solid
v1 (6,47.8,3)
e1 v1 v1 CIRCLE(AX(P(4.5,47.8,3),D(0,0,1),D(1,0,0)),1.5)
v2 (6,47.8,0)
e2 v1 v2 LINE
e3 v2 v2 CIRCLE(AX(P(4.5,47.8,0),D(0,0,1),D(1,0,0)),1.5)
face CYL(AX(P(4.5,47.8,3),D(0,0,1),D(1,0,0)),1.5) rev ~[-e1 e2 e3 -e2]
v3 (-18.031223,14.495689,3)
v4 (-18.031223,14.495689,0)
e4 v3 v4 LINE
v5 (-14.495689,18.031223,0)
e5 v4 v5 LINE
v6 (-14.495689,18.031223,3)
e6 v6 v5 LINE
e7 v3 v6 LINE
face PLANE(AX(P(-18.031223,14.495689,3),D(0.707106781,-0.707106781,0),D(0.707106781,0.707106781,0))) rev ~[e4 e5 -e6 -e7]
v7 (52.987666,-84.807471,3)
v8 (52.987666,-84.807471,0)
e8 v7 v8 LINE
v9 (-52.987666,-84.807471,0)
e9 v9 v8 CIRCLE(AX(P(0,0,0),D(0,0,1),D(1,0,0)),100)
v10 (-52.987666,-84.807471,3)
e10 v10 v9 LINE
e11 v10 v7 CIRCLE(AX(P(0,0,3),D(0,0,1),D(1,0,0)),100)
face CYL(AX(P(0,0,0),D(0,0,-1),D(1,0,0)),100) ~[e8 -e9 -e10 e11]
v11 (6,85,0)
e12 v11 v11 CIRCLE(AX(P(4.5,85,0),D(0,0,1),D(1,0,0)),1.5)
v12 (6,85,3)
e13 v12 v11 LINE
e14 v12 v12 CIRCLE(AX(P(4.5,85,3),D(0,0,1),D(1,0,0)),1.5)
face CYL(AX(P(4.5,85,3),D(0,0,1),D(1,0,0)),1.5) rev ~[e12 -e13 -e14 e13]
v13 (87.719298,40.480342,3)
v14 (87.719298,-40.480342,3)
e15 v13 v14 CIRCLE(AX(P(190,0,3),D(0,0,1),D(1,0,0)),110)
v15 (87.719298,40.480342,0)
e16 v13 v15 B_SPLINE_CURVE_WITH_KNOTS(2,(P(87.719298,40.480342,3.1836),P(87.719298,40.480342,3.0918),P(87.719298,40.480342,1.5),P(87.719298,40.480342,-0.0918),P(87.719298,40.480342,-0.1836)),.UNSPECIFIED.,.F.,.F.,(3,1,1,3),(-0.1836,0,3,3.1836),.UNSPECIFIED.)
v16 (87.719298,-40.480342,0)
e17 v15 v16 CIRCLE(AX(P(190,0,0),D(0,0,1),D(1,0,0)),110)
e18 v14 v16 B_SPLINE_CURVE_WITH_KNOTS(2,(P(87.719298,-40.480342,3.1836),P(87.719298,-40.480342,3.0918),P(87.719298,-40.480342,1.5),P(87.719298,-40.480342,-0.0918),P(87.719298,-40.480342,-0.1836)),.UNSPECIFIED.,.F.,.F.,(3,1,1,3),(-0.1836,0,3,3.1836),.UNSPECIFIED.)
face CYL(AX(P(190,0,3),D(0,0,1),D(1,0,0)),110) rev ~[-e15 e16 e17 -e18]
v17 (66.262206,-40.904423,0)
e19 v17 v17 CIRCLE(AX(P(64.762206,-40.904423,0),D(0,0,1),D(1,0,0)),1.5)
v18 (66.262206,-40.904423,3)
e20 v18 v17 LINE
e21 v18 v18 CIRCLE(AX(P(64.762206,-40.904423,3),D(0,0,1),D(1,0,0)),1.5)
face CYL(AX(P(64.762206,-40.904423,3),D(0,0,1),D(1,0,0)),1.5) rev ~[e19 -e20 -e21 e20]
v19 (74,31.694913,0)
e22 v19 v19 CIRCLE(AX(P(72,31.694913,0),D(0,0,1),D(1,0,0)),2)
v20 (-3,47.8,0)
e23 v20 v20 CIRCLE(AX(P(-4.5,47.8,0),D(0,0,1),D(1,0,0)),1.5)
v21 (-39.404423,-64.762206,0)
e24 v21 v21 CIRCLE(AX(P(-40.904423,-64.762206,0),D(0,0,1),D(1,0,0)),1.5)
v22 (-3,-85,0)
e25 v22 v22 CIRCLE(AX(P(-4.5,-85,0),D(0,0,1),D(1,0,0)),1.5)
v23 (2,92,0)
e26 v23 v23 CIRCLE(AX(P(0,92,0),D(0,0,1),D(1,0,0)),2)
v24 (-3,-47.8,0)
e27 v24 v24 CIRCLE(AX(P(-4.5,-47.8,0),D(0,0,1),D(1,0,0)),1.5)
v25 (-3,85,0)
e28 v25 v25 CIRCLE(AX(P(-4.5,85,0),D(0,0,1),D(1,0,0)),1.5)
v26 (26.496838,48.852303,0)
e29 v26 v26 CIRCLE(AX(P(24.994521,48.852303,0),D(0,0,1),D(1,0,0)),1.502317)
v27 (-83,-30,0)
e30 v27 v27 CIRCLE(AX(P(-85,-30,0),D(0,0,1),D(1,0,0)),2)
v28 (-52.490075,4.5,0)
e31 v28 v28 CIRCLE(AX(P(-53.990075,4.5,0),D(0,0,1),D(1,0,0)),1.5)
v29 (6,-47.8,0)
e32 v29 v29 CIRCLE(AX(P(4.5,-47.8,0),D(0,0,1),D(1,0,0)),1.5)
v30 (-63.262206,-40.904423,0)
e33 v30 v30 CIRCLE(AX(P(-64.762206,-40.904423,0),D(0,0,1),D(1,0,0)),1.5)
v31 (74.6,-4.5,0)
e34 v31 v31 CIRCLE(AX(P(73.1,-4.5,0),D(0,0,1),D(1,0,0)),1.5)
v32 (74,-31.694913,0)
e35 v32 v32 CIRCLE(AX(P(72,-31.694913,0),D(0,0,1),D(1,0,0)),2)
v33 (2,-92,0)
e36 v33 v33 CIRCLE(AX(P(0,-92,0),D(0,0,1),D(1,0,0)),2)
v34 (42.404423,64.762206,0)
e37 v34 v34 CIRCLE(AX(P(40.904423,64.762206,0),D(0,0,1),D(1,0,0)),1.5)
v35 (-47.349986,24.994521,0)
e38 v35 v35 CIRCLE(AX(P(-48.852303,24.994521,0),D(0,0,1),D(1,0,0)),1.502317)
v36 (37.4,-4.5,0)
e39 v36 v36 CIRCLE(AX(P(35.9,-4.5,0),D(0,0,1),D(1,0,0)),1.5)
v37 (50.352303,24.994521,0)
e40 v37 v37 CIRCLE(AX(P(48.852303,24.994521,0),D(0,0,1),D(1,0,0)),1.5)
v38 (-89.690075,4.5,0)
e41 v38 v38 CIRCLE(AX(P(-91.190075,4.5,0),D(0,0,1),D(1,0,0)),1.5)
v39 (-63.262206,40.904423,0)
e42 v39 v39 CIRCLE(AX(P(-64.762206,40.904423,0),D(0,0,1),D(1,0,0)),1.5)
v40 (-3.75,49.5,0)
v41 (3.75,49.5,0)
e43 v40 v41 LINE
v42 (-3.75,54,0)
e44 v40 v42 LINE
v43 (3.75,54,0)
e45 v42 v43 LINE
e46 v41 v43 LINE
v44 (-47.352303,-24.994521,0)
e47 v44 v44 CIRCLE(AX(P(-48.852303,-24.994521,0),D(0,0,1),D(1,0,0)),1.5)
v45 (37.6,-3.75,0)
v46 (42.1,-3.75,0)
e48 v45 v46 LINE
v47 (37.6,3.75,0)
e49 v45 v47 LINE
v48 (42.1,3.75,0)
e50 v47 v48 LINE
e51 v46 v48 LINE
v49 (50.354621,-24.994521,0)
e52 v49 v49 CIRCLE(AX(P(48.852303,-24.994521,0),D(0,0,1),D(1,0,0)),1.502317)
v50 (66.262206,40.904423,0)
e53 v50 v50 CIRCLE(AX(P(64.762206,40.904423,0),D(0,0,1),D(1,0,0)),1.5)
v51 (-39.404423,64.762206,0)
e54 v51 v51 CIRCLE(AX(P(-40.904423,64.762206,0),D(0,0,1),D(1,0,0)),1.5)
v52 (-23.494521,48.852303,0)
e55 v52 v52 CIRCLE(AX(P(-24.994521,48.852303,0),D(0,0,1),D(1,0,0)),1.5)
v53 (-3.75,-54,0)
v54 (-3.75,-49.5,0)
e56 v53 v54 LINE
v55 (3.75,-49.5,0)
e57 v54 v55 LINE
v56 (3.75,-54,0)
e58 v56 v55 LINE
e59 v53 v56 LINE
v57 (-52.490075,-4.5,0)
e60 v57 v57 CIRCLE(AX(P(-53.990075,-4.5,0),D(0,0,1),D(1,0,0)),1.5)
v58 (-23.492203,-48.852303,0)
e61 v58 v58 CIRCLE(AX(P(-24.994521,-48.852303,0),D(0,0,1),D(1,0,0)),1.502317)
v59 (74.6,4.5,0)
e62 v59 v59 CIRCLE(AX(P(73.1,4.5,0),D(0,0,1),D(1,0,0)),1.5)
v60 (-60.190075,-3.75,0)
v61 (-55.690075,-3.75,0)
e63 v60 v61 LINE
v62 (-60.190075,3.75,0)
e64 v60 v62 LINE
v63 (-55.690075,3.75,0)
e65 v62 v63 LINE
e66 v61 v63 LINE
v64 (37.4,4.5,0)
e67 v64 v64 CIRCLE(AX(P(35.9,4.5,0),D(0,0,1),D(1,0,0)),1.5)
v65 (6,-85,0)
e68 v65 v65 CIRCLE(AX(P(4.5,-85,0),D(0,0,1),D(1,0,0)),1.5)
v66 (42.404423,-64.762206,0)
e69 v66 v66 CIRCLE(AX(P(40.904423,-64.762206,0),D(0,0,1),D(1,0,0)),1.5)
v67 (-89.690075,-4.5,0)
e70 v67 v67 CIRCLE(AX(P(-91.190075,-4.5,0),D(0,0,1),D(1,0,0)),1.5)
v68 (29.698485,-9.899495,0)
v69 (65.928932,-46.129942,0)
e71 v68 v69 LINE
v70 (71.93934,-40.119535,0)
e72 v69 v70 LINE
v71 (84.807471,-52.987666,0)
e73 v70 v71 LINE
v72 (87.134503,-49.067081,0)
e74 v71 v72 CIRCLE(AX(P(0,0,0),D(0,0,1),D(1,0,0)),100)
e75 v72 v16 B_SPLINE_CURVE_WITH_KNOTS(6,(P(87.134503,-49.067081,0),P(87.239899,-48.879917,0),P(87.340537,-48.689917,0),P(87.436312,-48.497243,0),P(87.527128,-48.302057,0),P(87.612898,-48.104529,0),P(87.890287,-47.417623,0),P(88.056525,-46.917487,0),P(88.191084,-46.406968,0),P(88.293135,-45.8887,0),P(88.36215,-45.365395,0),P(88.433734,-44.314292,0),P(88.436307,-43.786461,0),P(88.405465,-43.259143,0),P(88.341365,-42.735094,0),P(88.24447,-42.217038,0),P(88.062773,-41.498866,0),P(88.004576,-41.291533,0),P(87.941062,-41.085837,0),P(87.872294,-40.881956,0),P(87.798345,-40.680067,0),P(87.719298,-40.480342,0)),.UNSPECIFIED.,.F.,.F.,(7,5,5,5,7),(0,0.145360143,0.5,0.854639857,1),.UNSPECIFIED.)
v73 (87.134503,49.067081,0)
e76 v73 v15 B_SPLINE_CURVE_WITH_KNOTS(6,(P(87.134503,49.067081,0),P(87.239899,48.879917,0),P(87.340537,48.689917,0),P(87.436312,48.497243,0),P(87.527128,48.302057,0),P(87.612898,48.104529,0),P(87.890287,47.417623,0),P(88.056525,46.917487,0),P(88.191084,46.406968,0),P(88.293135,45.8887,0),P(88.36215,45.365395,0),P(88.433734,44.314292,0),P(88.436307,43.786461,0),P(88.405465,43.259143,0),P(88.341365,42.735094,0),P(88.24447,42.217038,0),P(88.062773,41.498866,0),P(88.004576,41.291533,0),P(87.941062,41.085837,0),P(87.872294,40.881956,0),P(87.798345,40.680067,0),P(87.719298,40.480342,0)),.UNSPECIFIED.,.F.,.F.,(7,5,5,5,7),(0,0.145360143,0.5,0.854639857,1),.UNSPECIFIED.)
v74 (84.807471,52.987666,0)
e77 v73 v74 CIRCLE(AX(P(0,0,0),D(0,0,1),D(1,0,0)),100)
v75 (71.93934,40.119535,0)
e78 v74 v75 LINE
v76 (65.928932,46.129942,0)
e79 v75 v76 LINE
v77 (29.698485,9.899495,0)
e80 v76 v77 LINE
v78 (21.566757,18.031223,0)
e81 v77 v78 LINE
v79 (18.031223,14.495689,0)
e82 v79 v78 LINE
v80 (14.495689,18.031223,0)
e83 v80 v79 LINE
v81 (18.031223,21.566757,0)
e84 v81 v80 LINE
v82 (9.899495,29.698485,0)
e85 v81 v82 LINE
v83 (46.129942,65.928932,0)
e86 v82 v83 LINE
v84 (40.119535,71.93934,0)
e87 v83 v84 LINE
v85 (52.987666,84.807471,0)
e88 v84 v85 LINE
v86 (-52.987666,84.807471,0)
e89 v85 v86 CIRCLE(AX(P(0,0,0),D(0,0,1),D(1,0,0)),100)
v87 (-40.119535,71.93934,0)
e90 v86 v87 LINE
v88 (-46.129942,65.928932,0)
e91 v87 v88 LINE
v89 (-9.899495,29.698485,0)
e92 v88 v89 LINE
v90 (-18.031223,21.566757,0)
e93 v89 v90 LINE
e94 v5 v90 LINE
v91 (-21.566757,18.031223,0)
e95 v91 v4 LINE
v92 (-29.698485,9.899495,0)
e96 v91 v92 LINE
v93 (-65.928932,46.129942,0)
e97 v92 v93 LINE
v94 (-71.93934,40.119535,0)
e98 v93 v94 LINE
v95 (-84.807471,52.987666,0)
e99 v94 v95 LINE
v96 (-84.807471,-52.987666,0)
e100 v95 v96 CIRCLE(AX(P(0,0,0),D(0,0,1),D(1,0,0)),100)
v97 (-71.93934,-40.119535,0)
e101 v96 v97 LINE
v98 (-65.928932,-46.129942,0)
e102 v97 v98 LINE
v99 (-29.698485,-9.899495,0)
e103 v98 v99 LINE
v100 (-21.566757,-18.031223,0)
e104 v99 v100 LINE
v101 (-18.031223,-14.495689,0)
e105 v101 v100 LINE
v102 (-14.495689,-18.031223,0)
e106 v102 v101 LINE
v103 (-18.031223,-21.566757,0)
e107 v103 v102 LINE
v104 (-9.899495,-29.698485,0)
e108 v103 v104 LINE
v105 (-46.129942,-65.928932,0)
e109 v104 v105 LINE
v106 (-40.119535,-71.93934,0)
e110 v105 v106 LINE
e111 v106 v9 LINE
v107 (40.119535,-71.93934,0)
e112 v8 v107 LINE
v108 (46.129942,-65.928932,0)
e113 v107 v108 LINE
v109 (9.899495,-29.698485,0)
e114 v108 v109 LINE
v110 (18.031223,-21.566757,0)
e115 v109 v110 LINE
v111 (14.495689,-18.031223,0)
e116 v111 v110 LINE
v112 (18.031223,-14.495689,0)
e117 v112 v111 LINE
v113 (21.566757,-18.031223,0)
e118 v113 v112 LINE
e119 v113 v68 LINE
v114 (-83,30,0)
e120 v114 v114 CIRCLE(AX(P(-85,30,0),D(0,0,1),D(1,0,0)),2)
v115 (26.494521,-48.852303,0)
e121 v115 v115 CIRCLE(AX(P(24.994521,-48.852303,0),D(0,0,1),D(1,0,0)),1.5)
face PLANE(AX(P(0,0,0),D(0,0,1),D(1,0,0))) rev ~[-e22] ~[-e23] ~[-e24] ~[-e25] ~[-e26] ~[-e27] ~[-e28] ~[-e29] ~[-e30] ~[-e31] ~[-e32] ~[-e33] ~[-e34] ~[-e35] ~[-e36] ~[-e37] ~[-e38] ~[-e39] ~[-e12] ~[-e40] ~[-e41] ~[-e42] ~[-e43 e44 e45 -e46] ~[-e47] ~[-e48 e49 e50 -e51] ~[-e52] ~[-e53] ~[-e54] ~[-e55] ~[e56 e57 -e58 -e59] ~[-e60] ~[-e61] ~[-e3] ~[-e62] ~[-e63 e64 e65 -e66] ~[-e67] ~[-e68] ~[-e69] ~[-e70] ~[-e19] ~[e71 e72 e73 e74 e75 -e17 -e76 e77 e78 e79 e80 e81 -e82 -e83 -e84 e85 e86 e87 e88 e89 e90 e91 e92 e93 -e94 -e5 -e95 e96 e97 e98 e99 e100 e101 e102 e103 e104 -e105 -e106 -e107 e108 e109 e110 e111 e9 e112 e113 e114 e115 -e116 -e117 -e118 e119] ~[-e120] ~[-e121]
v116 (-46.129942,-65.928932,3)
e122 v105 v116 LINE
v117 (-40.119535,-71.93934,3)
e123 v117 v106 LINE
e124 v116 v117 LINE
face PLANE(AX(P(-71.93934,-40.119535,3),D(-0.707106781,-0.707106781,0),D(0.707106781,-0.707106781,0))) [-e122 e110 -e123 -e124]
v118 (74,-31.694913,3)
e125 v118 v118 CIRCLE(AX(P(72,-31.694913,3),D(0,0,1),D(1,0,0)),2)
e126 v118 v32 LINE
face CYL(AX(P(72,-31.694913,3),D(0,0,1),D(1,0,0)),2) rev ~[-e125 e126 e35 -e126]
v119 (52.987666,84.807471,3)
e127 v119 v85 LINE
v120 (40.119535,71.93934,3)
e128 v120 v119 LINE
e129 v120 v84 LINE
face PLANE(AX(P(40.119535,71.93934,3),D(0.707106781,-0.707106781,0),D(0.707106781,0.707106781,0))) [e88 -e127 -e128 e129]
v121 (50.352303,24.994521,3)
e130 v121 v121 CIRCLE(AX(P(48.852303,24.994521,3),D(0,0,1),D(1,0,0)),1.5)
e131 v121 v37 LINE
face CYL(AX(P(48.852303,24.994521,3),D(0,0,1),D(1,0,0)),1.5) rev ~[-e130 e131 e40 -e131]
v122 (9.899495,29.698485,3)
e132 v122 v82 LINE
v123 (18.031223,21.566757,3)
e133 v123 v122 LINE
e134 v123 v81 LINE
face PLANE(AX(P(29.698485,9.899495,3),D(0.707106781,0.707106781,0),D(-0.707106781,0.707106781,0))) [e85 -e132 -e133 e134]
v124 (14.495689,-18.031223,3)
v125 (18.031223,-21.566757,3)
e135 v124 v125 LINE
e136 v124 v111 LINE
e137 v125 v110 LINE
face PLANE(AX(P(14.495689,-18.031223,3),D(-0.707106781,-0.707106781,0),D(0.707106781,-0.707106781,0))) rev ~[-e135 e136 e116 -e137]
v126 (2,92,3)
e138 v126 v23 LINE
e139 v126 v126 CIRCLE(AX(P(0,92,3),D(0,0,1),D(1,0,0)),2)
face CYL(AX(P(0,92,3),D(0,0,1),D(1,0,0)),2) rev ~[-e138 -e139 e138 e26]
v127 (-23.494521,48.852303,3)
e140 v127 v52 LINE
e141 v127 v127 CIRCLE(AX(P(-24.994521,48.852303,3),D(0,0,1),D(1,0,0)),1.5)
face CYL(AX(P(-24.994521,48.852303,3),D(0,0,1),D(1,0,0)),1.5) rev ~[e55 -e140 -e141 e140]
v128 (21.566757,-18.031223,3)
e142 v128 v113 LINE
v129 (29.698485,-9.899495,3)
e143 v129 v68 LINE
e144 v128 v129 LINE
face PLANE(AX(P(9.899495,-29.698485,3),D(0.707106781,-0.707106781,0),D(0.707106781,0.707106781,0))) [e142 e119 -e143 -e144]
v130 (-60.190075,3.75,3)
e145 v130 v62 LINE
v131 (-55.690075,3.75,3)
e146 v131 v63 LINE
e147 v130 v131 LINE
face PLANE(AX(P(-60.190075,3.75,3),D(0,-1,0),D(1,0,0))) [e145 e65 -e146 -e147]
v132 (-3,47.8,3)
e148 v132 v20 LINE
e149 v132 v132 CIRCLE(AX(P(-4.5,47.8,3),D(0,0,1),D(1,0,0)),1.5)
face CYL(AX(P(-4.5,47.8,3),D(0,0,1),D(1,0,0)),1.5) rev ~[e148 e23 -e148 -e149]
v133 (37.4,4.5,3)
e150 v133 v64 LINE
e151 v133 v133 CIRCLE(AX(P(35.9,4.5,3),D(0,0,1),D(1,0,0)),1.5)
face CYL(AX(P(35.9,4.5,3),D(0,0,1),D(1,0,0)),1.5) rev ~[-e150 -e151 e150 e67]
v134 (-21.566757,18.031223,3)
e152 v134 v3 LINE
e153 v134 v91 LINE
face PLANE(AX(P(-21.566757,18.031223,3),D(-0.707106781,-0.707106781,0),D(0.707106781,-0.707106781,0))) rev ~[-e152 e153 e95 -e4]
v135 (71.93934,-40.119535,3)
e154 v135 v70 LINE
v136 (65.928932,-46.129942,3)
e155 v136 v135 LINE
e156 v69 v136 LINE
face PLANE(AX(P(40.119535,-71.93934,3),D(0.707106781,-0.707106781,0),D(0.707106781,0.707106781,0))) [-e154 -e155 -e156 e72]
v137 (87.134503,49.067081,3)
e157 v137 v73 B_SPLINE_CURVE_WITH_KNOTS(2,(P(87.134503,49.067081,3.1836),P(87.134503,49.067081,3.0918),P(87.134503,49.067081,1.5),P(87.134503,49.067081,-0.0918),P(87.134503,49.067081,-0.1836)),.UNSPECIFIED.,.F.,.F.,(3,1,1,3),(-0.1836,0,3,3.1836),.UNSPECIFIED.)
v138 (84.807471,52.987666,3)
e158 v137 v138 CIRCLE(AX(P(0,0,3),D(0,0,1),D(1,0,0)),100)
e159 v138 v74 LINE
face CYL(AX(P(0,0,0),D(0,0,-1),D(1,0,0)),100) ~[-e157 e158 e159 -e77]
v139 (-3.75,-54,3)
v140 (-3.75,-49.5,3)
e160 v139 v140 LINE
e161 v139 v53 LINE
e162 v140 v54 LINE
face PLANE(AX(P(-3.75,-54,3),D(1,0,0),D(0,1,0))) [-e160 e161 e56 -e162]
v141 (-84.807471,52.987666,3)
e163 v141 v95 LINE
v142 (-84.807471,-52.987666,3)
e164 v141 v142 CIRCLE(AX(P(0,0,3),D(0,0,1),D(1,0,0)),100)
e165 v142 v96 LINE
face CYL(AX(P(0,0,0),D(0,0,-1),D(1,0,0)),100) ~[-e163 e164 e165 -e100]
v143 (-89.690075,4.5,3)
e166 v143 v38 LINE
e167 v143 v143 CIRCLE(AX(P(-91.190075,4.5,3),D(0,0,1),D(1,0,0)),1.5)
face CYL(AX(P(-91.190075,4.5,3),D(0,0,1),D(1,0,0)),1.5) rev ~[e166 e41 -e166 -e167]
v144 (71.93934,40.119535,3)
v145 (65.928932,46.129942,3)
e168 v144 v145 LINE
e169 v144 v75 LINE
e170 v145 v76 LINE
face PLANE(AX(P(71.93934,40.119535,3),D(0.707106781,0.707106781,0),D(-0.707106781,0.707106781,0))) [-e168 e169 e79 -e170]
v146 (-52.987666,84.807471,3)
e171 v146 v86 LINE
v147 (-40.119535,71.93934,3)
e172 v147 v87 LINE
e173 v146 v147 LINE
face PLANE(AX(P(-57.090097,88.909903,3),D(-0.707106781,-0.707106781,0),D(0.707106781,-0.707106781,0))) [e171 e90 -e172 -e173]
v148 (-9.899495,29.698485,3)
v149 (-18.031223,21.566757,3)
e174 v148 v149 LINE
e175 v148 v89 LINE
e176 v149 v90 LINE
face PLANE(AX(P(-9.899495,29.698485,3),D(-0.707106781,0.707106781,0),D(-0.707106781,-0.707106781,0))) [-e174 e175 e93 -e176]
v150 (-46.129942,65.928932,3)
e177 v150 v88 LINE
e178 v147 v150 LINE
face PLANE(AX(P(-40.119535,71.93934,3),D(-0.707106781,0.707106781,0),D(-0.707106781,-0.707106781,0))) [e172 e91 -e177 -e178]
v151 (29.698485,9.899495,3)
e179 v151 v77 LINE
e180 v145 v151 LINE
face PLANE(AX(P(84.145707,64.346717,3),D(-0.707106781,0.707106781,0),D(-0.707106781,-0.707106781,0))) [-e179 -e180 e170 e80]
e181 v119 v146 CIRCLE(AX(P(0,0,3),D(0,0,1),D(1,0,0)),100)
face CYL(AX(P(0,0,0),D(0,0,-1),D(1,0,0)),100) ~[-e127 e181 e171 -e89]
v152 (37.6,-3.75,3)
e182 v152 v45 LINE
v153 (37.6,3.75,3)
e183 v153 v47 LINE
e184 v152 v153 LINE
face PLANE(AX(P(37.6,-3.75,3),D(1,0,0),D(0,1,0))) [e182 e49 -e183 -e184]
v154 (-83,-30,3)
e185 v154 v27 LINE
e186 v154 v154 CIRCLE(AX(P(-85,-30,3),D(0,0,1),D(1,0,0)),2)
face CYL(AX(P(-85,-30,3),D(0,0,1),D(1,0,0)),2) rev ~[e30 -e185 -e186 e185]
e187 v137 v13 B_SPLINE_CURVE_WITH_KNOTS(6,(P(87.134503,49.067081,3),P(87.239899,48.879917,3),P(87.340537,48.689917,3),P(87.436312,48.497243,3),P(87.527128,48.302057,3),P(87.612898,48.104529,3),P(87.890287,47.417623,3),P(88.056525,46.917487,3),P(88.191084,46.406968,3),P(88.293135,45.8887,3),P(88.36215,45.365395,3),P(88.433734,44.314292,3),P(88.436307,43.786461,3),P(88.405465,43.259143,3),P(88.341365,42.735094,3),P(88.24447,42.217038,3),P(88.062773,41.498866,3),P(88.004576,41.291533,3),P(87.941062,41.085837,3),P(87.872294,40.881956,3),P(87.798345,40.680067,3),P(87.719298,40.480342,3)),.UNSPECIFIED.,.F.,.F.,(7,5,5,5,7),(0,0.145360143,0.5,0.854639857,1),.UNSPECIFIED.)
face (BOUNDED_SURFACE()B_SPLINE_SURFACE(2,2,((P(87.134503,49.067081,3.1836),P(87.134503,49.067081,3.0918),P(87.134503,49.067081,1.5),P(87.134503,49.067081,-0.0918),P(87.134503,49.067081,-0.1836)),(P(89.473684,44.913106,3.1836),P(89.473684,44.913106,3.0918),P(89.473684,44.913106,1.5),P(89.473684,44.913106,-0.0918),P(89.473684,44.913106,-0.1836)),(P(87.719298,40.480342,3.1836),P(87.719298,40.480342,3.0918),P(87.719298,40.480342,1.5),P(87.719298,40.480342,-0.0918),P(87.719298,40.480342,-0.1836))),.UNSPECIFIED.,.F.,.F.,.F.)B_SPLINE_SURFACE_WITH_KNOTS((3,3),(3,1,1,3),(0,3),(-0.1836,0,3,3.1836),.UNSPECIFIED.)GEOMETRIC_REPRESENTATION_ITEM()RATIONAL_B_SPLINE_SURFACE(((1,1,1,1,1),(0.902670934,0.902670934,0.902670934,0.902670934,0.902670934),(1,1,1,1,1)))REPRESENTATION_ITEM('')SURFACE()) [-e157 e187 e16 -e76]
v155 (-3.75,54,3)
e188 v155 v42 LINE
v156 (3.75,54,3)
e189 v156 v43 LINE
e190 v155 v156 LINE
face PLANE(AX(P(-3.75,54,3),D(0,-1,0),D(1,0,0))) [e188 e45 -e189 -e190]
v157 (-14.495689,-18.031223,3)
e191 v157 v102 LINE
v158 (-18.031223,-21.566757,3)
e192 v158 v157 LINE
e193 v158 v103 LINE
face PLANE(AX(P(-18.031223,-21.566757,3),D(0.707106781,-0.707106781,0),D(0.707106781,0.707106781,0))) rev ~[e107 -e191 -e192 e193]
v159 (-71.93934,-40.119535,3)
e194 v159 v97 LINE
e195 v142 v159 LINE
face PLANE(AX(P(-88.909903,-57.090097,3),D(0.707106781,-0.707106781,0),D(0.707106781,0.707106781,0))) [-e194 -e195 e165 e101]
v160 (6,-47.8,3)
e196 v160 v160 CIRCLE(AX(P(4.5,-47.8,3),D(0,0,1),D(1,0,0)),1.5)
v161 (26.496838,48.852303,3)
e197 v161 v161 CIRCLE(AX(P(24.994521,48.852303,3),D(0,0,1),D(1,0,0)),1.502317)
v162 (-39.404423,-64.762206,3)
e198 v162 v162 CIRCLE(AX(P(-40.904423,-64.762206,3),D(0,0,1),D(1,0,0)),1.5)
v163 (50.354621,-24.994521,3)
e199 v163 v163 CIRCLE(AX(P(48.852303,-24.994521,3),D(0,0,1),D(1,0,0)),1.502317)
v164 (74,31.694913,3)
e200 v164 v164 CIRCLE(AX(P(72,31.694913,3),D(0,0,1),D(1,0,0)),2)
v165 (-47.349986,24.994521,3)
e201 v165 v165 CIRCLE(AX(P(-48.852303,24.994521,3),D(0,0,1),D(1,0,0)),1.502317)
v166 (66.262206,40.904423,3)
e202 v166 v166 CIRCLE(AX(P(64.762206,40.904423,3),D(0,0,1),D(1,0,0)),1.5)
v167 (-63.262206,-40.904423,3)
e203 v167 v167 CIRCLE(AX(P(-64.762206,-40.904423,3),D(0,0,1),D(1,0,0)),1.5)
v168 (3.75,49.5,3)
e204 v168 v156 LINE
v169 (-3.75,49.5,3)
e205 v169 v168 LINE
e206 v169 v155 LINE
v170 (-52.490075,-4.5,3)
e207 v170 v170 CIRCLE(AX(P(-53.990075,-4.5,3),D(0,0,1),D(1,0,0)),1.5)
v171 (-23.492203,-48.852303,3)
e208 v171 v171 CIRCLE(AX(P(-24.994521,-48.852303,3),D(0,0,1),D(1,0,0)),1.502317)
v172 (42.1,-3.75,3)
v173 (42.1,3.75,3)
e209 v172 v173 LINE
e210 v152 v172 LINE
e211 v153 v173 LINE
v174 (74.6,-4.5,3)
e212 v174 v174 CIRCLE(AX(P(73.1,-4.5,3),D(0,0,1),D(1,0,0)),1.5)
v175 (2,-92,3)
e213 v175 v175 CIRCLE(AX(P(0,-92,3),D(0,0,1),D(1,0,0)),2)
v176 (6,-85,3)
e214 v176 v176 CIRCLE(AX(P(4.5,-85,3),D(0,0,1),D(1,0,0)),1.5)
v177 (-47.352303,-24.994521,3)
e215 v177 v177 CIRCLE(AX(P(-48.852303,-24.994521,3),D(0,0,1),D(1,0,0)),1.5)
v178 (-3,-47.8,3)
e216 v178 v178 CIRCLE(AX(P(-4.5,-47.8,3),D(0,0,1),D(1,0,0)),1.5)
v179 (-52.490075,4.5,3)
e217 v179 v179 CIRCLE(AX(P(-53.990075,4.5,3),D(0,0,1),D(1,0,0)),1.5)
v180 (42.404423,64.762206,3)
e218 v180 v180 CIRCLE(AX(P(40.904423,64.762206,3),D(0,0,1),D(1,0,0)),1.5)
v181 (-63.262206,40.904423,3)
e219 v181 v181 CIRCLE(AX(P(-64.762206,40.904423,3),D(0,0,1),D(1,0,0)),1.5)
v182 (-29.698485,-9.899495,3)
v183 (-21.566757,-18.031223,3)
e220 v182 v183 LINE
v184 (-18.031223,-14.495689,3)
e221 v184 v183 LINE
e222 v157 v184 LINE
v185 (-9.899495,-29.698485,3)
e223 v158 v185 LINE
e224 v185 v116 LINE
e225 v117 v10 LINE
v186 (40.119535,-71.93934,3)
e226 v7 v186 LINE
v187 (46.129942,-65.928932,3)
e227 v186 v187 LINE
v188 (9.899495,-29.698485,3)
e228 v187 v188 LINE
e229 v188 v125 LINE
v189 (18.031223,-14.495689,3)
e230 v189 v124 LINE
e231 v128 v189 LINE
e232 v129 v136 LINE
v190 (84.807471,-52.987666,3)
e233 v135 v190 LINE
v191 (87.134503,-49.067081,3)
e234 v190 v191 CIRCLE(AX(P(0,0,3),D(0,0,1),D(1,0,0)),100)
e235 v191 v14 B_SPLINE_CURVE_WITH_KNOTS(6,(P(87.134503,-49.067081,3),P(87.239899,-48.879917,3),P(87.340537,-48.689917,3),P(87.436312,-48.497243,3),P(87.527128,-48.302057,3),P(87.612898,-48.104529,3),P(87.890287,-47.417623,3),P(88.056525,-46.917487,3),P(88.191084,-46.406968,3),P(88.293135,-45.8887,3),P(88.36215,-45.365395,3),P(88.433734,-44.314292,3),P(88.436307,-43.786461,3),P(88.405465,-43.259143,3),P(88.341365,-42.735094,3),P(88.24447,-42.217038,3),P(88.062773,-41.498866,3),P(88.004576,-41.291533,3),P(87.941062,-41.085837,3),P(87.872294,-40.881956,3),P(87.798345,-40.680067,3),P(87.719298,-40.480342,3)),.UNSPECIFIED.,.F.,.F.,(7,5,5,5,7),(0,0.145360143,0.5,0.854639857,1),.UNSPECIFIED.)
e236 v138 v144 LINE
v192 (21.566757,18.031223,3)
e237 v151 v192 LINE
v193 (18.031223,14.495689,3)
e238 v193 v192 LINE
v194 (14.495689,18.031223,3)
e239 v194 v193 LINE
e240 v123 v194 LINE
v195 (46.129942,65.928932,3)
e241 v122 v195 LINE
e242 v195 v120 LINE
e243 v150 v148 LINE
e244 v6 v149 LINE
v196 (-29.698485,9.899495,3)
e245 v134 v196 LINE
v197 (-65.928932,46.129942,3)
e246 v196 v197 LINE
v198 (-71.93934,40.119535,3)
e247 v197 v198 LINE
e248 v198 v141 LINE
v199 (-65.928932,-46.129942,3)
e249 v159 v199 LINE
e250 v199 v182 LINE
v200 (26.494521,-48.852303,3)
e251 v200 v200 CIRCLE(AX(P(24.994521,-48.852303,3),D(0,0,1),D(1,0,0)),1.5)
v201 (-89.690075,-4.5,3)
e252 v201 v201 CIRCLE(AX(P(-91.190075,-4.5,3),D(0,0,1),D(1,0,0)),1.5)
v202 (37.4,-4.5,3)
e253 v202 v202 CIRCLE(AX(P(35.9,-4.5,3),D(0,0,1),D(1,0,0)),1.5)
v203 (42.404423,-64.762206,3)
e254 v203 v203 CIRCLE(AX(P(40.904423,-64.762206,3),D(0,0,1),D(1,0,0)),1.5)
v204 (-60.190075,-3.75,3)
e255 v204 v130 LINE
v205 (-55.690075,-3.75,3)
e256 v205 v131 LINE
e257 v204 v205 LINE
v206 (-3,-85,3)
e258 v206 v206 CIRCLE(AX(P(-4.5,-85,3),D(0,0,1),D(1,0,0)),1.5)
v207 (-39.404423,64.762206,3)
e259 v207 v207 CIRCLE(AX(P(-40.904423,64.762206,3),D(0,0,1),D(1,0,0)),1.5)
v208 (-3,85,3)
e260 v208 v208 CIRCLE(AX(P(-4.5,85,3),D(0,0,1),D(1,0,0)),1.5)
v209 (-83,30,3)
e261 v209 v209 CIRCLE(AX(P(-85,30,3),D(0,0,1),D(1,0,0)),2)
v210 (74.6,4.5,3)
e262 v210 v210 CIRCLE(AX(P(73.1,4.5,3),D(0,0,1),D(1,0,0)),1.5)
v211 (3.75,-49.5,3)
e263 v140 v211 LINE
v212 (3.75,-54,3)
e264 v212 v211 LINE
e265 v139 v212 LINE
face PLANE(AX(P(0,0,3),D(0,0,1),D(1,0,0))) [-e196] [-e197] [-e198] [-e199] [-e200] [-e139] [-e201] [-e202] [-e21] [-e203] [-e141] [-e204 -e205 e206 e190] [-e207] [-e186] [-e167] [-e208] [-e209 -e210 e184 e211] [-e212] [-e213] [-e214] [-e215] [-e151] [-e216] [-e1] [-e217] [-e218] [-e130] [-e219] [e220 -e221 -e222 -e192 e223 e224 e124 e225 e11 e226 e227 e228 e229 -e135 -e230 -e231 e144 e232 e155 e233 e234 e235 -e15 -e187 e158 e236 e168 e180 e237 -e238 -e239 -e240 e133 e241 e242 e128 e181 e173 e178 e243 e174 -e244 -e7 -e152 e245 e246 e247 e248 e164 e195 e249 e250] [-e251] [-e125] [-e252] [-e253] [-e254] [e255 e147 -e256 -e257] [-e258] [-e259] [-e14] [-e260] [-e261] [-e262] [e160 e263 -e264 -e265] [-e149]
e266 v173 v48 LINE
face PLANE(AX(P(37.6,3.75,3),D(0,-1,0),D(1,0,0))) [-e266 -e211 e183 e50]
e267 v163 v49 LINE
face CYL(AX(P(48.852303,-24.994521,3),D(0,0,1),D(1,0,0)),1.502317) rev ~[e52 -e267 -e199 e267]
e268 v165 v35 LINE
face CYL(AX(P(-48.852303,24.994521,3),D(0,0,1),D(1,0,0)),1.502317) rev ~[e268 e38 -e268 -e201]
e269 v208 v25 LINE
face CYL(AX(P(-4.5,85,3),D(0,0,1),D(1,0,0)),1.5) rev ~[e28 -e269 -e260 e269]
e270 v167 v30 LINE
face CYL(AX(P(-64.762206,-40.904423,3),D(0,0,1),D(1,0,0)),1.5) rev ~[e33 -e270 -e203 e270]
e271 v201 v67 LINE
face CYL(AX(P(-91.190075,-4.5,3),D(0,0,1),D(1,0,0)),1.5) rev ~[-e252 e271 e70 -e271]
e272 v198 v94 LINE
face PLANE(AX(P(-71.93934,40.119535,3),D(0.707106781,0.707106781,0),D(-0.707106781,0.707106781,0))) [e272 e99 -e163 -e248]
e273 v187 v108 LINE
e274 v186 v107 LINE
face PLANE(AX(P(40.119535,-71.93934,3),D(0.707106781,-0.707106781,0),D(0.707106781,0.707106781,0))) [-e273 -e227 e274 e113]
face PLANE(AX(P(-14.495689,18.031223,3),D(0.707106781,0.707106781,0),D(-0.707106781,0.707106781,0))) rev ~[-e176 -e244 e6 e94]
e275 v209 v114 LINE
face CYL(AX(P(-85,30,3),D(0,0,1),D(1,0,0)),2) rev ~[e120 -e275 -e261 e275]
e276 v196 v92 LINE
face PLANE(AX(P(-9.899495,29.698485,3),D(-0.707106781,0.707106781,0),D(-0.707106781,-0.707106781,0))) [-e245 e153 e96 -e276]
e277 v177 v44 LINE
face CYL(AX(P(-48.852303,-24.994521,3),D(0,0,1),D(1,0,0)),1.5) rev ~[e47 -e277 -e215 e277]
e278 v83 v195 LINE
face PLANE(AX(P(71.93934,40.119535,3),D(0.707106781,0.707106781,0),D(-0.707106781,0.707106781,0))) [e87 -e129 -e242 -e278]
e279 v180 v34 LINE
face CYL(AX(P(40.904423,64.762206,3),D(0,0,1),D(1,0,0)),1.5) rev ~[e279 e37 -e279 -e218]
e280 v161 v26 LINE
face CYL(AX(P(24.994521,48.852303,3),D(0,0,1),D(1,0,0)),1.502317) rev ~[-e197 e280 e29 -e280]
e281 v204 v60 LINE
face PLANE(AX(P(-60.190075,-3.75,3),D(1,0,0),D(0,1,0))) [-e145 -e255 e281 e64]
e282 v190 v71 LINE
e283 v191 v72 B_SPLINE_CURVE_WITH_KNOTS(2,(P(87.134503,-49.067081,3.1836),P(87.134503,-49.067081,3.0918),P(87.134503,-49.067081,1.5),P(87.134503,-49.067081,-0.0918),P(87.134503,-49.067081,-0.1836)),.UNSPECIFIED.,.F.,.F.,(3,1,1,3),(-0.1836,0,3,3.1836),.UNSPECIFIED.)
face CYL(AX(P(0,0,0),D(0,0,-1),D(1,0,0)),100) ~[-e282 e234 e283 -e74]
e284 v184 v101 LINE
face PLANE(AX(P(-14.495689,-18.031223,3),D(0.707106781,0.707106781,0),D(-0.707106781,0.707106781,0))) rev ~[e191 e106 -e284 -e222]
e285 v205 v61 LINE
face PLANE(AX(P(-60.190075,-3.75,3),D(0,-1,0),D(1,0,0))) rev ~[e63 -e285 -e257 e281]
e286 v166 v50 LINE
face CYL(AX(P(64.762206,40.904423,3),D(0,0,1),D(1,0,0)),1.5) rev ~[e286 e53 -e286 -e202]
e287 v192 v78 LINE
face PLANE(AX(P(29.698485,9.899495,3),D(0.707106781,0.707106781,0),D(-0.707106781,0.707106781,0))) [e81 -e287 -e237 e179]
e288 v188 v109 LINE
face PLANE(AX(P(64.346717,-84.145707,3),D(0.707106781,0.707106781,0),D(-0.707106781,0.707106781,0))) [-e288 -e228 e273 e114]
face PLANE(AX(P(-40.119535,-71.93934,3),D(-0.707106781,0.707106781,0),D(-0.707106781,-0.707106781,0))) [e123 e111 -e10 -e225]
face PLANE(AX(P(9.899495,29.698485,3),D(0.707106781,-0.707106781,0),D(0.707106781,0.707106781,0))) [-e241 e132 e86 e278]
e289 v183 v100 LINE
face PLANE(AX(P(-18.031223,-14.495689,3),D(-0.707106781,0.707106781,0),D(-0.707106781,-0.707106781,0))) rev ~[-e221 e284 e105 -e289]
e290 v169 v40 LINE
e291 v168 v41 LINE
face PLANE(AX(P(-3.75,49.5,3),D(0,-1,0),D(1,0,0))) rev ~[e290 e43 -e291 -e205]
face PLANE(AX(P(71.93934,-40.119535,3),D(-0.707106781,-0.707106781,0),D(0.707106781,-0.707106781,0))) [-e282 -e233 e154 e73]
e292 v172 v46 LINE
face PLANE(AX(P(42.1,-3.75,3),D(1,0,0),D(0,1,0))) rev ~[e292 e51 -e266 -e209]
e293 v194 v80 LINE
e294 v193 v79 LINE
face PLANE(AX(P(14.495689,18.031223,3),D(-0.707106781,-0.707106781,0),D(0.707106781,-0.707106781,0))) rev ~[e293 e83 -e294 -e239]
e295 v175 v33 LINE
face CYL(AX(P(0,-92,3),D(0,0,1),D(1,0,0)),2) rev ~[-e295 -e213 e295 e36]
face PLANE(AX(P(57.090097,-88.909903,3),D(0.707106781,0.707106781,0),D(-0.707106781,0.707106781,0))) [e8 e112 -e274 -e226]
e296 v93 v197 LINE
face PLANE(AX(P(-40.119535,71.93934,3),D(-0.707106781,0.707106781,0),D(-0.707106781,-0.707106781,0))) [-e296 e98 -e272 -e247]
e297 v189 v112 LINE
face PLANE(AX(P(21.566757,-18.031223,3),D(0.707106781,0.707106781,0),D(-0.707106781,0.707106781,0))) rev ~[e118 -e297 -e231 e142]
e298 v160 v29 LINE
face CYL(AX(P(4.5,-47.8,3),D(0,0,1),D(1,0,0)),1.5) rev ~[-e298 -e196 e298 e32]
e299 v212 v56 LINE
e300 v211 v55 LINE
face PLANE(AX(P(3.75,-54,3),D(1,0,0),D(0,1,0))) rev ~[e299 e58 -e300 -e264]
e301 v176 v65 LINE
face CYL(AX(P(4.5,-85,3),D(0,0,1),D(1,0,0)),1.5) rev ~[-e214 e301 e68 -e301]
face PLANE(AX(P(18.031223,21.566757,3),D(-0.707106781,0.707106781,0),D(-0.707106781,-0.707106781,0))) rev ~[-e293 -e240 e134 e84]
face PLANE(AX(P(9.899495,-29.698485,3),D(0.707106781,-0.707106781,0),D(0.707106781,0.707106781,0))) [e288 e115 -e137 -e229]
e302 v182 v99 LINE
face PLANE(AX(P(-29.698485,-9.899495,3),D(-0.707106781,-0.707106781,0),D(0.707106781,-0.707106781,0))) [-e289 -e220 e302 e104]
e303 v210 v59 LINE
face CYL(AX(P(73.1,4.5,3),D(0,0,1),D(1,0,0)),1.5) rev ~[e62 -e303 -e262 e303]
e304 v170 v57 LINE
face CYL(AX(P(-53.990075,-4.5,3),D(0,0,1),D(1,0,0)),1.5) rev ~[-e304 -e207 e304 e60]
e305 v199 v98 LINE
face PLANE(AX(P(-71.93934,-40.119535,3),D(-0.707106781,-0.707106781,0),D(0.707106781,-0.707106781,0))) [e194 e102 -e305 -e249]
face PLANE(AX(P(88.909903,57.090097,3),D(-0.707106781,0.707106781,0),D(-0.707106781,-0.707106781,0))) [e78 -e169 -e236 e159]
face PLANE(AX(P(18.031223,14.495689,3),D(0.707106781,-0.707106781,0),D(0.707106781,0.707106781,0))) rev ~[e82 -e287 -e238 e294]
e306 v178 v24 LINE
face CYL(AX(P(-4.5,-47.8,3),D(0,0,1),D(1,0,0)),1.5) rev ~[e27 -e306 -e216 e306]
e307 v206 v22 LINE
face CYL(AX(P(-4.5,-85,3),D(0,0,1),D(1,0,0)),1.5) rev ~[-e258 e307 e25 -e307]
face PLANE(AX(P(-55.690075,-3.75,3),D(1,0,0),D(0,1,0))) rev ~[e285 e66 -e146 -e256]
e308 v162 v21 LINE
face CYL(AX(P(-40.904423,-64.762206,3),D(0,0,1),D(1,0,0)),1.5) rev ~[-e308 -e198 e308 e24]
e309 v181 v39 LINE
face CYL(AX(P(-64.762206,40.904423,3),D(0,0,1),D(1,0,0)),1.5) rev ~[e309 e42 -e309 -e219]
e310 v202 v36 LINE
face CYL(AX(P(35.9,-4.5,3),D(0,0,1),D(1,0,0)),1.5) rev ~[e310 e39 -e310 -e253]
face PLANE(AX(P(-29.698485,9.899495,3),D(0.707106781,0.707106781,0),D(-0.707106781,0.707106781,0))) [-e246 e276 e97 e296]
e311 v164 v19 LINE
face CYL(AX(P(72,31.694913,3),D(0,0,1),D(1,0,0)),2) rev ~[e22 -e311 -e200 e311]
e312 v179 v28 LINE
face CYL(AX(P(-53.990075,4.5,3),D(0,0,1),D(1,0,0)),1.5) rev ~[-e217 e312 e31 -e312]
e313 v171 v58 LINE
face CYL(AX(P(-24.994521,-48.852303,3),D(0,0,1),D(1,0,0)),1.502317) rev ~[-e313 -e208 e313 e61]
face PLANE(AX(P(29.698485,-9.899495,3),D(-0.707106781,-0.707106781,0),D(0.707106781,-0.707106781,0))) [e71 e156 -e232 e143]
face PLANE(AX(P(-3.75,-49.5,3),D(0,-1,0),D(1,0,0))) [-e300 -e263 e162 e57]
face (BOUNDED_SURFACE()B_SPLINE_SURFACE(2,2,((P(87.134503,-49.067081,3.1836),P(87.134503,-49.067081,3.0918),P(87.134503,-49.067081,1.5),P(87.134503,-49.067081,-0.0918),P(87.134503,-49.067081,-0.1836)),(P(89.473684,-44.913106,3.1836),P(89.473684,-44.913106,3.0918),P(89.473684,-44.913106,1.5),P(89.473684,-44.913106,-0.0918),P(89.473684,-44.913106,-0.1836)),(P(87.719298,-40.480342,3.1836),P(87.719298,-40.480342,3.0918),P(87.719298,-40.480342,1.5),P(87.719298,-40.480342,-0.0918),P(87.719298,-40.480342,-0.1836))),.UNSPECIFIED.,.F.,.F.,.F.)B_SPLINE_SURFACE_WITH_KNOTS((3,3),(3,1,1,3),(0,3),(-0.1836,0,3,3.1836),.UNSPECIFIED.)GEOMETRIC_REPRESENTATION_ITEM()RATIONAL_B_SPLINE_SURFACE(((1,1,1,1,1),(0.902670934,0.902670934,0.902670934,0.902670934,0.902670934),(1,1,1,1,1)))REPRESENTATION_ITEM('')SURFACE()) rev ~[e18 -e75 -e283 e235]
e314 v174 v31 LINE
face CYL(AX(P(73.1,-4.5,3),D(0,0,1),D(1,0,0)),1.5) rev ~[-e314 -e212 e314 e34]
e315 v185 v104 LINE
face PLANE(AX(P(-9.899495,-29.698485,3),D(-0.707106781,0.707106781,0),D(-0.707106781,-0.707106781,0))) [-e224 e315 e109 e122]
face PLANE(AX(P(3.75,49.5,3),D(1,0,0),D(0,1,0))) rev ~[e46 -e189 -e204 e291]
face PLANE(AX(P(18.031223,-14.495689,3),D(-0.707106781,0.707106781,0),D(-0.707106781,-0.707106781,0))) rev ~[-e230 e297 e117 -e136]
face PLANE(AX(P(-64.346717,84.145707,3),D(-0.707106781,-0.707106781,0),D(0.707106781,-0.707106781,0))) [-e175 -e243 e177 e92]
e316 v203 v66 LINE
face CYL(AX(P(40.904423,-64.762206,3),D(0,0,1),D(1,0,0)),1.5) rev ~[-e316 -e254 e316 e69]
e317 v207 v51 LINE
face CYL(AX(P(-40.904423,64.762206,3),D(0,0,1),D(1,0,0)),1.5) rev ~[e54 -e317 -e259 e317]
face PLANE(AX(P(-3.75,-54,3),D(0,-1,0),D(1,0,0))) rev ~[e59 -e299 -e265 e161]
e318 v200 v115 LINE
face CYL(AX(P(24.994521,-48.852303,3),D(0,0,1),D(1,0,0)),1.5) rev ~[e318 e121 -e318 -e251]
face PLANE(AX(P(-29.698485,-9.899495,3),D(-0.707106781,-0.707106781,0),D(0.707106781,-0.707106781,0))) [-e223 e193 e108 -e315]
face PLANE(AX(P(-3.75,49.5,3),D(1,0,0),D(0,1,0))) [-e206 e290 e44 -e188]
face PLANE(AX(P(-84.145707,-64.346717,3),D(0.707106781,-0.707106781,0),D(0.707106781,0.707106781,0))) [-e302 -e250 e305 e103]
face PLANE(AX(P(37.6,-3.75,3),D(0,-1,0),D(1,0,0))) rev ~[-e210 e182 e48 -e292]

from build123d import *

# Parameters (mm, degrees)
CROQUIS1_R              = 100
SALIENTE_EXTRUIR1_DEPTH = 3
CROQUIS3_R              = 110
CORTAR_EXTRUIR1_DEPTH   = 3
REDONDEO1_R             = 10
CORTAR_EXTRUIR2_DEPTH   = 10
CORTAR_EXTRUIR3_DEPTH   = 10
CROQUIS8_R              = 1.5
CROQUIS8_R_2            = 1.502317269
CROQUIS8_R_3            = 2
CORTAR_EXTRUIR4_DEPTH   = 10
CROQUIS9_R              = 1.5
CROQUIS9_W              = 4.5
CROQUIS9_H              = 7.5
CROQUIS9_W_2            = 7.5
CROQUIS9_H_2            = 4.5
CORTAR_EXTRUIR5_DEPTH   = 10


with BuildPart() as part:
    # Croquis1 → Saliente-Extruir1 (new body)
    with BuildSketch(Plane.XY):
        Circle(CROQUIS1_R)
    extrude(amount=SALIENTE_EXTRUIR1_DEPTH)

    # Croquis3 → Cortar-Extruir1 (cut)
    with BuildSketch(Plane.XY.offset(3)):
        with Locations((190, 0)):
            Circle(CROQUIS3_R)
    extrude(amount=-CORTAR_EXTRUIR1_DEPTH, mode=Mode.SUBTRACT)

    # Redondeo1
    redondeo1_edges = [part.edges().sort_by_distance(p)[0] for p in [
        (89.473684211, -44.659375654, 1.5),
        (89.473684211, 44.659375654, 1.5),
    ]]
    fillet(redondeo1_edges, radius=REDONDEO1_R)

    # Croquis5 → Cortar-Extruir2 (cut)
    with BuildSketch(Plane.XY.offset(3)):
        Polygon((-29.69848481, -9.899494937), (-9.899494937, -29.69848481), (-64.346717088, -84.145706961), (-84.145706961, -64.346717088), align=None)
        Polygon((-9.899494937, 29.69848481), (-29.69848481, 9.899494937), (-84.145706961, 64.346717088), (-64.346717088, 84.145706961), align=None)
        Polygon((29.69848481, 9.899494937), (9.899494937, 29.69848481), (64.346717088, 84.145706961), (84.145706961, 64.346717088), align=None)
        Polygon((9.899494937, -29.69848481), (29.69848481, -9.899494937), (84.145706961, -64.346717088), (64.346717088, -84.145706961), align=None)
    extrude(amount=-CORTAR_EXTRUIR2_DEPTH, mode=Mode.SUBTRACT)

    # Croquis7 → Cortar-Extruir3 (cut)
    with BuildSketch(Plane.XY.offset(3)):
        Polygon((-71.939339828, -40.119534675), (-40.119534675, -71.939339828), (-57.090097423, -88.909902577), (-88.909902577, -57.090097423), align=None)
        Polygon((-40.119534675, 71.939339828), (-71.939339828, 40.119534675), (-88.909902577, 57.090097423), (-57.090097423, 88.909902577), align=None)
        Polygon((71.939339828, 40.119534675), (40.119534675, 71.939339828), (57.090097423, 88.909902577), (88.909902577, 57.090097423), align=None)
        Polygon((40.119534675, -71.939339828), (71.939339828, -40.119534675), (88.909902577, -57.090097423), (57.090097423, -88.909902577), align=None)
        Polygon((-21.566756826, -18.03122292), (-18.03122292, -21.566756826), (-14.495689014, -18.03122292), (-18.03122292, -14.495689014), align=None)
        Polygon((-21.566756826, 18.03122292), (-18.03122292, 14.495689014), (-14.495689014, 18.03122292), (-18.03122292, 21.566756826), align=None)
        Polygon((18.03122292, 21.566756826), (14.495689014, 18.03122292), (18.03122292, 14.495689014), (21.566756826, 18.03122292), align=None)
        Polygon((21.566756826, -18.03122292), (18.03122292, -14.495689014), (14.495689014, -18.03122292), (18.03122292, -21.566756826), align=None)
    extrude(amount=-CORTAR_EXTRUIR3_DEPTH, mode=Mode.SUBTRACT)

    # Croquis8 → Cortar-Extruir4 (cut)
    with BuildSketch(Plane.XY.offset(3)):
        with Locations((-64.762205999, 40.904423202)):
            Circle(CROQUIS8_R)
        with Locations((-48.852303422, 24.994520625)):
            Circle(CROQUIS8_R_2)
        with Locations((-24.994520625, 48.852303422)):
            Circle(CROQUIS8_R)
        with Locations((-40.904423202, 64.762205999)):
            Circle(CROQUIS8_R)
        with Locations((64.762205999, 40.904423202)):
            Circle(CROQUIS8_R)
        with Locations((48.852303422, 24.994520625)):
            Circle(CROQUIS8_R)
        with Locations((24.994520625, 48.852303422)):
            Circle(CROQUIS8_R_2)
        with Locations((40.904423202, 64.762205999)):
            Circle(CROQUIS8_R)
        with Locations((40.904423202, -64.762205999)):
            Circle(CROQUIS8_R)
        with Locations((24.994520625, -48.852303422)):
            Circle(CROQUIS8_R)
        with Locations((48.852303422, -24.994520625)):
            Circle(CROQUIS8_R_2)
        with Locations((64.762205999, -40.904423202)):
            Circle(CROQUIS8_R)
        with Locations((-64.762205999, -40.904423202)):
            Circle(CROQUIS8_R)
        with Locations((-48.852303422, -24.994520625)):
            Circle(CROQUIS8_R)
        with Locations((-24.994520625, -48.852303422)):
            Circle(CROQUIS8_R_2)
        with Locations((-40.904423202, -64.762205999)):
            Circle(CROQUIS8_R)
        with Locations((0, 92)):
            Circle(CROQUIS8_R_3)
        with Locations((0, -92)):
            Circle(CROQUIS8_R_3)
        with Locations((72, 31.694913472)):
            Circle(CROQUIS8_R_3)
        with Locations((72, -31.694913472)):
            Circle(CROQUIS8_R_3)
        with Locations((-85, -30)):
            Circle(CROQUIS8_R_3)
        with Locations((-85, 30)):
            Circle(CROQUIS8_R_3)
    extrude(amount=-CORTAR_EXTRUIR4_DEPTH, mode=Mode.SUBTRACT)

    # Croquis9 → Cortar-Extruir5 (cut)
    with BuildSketch(Plane.XY.offset(3)):
        with Locations((73.1, -4.5)):
            Circle(CROQUIS9_R)
        with Locations((35.9, 4.5)):
            Circle(CROQUIS9_R)
        with Locations((73.1, 4.5)):
            Circle(CROQUIS9_R)
        with Locations((35.9, -4.5)):
            Circle(CROQUIS9_R)
        with Locations((-91.190074744, 4.5)):
            Circle(CROQUIS9_R)
        with Locations((-91.190074744, -4.5)):
            Circle(CROQUIS9_R)
        with Locations((-53.990074744, 4.5)):
            Circle(CROQUIS9_R)
        with Locations((-53.990074744, -4.5)):
            Circle(CROQUIS9_R)
        with Locations((-4.5, 85)):
            Circle(CROQUIS9_R)
        with Locations((4.5, 85)):
            Circle(CROQUIS9_R)
        with Locations((-4.5, 47.8)):
            Circle(CROQUIS9_R)
        with Locations((4.5, 47.8)):
            Circle(CROQUIS9_R)
        with Locations((-4.5, -47.8)):
            Circle(CROQUIS9_R)
        with Locations((4.5, -47.8)):
            Circle(CROQUIS9_R)
        with Locations((4.5, -85)):
            Circle(CROQUIS9_R)
        with Locations((-4.5, -85)):
            Circle(CROQUIS9_R)
        with Locations((39.85, 0)):
            Rectangle(CROQUIS9_W, CROQUIS9_H)
        with Locations((0, -51.75)):
            Rectangle(CROQUIS9_W_2, CROQUIS9_H_2)
        with Locations((-57.940074744, 0)):
            Rectangle(CROQUIS9_W, CROQUIS9_H)
        with Locations((0, 51.75)):
            Rectangle(CROQUIS9_W_2, CROQUIS9_H_2)
    extrude(amount=-CORTAR_EXTRUIR5_DEPTH, mode=Mode.SUBTRACT)


solid = part.part
